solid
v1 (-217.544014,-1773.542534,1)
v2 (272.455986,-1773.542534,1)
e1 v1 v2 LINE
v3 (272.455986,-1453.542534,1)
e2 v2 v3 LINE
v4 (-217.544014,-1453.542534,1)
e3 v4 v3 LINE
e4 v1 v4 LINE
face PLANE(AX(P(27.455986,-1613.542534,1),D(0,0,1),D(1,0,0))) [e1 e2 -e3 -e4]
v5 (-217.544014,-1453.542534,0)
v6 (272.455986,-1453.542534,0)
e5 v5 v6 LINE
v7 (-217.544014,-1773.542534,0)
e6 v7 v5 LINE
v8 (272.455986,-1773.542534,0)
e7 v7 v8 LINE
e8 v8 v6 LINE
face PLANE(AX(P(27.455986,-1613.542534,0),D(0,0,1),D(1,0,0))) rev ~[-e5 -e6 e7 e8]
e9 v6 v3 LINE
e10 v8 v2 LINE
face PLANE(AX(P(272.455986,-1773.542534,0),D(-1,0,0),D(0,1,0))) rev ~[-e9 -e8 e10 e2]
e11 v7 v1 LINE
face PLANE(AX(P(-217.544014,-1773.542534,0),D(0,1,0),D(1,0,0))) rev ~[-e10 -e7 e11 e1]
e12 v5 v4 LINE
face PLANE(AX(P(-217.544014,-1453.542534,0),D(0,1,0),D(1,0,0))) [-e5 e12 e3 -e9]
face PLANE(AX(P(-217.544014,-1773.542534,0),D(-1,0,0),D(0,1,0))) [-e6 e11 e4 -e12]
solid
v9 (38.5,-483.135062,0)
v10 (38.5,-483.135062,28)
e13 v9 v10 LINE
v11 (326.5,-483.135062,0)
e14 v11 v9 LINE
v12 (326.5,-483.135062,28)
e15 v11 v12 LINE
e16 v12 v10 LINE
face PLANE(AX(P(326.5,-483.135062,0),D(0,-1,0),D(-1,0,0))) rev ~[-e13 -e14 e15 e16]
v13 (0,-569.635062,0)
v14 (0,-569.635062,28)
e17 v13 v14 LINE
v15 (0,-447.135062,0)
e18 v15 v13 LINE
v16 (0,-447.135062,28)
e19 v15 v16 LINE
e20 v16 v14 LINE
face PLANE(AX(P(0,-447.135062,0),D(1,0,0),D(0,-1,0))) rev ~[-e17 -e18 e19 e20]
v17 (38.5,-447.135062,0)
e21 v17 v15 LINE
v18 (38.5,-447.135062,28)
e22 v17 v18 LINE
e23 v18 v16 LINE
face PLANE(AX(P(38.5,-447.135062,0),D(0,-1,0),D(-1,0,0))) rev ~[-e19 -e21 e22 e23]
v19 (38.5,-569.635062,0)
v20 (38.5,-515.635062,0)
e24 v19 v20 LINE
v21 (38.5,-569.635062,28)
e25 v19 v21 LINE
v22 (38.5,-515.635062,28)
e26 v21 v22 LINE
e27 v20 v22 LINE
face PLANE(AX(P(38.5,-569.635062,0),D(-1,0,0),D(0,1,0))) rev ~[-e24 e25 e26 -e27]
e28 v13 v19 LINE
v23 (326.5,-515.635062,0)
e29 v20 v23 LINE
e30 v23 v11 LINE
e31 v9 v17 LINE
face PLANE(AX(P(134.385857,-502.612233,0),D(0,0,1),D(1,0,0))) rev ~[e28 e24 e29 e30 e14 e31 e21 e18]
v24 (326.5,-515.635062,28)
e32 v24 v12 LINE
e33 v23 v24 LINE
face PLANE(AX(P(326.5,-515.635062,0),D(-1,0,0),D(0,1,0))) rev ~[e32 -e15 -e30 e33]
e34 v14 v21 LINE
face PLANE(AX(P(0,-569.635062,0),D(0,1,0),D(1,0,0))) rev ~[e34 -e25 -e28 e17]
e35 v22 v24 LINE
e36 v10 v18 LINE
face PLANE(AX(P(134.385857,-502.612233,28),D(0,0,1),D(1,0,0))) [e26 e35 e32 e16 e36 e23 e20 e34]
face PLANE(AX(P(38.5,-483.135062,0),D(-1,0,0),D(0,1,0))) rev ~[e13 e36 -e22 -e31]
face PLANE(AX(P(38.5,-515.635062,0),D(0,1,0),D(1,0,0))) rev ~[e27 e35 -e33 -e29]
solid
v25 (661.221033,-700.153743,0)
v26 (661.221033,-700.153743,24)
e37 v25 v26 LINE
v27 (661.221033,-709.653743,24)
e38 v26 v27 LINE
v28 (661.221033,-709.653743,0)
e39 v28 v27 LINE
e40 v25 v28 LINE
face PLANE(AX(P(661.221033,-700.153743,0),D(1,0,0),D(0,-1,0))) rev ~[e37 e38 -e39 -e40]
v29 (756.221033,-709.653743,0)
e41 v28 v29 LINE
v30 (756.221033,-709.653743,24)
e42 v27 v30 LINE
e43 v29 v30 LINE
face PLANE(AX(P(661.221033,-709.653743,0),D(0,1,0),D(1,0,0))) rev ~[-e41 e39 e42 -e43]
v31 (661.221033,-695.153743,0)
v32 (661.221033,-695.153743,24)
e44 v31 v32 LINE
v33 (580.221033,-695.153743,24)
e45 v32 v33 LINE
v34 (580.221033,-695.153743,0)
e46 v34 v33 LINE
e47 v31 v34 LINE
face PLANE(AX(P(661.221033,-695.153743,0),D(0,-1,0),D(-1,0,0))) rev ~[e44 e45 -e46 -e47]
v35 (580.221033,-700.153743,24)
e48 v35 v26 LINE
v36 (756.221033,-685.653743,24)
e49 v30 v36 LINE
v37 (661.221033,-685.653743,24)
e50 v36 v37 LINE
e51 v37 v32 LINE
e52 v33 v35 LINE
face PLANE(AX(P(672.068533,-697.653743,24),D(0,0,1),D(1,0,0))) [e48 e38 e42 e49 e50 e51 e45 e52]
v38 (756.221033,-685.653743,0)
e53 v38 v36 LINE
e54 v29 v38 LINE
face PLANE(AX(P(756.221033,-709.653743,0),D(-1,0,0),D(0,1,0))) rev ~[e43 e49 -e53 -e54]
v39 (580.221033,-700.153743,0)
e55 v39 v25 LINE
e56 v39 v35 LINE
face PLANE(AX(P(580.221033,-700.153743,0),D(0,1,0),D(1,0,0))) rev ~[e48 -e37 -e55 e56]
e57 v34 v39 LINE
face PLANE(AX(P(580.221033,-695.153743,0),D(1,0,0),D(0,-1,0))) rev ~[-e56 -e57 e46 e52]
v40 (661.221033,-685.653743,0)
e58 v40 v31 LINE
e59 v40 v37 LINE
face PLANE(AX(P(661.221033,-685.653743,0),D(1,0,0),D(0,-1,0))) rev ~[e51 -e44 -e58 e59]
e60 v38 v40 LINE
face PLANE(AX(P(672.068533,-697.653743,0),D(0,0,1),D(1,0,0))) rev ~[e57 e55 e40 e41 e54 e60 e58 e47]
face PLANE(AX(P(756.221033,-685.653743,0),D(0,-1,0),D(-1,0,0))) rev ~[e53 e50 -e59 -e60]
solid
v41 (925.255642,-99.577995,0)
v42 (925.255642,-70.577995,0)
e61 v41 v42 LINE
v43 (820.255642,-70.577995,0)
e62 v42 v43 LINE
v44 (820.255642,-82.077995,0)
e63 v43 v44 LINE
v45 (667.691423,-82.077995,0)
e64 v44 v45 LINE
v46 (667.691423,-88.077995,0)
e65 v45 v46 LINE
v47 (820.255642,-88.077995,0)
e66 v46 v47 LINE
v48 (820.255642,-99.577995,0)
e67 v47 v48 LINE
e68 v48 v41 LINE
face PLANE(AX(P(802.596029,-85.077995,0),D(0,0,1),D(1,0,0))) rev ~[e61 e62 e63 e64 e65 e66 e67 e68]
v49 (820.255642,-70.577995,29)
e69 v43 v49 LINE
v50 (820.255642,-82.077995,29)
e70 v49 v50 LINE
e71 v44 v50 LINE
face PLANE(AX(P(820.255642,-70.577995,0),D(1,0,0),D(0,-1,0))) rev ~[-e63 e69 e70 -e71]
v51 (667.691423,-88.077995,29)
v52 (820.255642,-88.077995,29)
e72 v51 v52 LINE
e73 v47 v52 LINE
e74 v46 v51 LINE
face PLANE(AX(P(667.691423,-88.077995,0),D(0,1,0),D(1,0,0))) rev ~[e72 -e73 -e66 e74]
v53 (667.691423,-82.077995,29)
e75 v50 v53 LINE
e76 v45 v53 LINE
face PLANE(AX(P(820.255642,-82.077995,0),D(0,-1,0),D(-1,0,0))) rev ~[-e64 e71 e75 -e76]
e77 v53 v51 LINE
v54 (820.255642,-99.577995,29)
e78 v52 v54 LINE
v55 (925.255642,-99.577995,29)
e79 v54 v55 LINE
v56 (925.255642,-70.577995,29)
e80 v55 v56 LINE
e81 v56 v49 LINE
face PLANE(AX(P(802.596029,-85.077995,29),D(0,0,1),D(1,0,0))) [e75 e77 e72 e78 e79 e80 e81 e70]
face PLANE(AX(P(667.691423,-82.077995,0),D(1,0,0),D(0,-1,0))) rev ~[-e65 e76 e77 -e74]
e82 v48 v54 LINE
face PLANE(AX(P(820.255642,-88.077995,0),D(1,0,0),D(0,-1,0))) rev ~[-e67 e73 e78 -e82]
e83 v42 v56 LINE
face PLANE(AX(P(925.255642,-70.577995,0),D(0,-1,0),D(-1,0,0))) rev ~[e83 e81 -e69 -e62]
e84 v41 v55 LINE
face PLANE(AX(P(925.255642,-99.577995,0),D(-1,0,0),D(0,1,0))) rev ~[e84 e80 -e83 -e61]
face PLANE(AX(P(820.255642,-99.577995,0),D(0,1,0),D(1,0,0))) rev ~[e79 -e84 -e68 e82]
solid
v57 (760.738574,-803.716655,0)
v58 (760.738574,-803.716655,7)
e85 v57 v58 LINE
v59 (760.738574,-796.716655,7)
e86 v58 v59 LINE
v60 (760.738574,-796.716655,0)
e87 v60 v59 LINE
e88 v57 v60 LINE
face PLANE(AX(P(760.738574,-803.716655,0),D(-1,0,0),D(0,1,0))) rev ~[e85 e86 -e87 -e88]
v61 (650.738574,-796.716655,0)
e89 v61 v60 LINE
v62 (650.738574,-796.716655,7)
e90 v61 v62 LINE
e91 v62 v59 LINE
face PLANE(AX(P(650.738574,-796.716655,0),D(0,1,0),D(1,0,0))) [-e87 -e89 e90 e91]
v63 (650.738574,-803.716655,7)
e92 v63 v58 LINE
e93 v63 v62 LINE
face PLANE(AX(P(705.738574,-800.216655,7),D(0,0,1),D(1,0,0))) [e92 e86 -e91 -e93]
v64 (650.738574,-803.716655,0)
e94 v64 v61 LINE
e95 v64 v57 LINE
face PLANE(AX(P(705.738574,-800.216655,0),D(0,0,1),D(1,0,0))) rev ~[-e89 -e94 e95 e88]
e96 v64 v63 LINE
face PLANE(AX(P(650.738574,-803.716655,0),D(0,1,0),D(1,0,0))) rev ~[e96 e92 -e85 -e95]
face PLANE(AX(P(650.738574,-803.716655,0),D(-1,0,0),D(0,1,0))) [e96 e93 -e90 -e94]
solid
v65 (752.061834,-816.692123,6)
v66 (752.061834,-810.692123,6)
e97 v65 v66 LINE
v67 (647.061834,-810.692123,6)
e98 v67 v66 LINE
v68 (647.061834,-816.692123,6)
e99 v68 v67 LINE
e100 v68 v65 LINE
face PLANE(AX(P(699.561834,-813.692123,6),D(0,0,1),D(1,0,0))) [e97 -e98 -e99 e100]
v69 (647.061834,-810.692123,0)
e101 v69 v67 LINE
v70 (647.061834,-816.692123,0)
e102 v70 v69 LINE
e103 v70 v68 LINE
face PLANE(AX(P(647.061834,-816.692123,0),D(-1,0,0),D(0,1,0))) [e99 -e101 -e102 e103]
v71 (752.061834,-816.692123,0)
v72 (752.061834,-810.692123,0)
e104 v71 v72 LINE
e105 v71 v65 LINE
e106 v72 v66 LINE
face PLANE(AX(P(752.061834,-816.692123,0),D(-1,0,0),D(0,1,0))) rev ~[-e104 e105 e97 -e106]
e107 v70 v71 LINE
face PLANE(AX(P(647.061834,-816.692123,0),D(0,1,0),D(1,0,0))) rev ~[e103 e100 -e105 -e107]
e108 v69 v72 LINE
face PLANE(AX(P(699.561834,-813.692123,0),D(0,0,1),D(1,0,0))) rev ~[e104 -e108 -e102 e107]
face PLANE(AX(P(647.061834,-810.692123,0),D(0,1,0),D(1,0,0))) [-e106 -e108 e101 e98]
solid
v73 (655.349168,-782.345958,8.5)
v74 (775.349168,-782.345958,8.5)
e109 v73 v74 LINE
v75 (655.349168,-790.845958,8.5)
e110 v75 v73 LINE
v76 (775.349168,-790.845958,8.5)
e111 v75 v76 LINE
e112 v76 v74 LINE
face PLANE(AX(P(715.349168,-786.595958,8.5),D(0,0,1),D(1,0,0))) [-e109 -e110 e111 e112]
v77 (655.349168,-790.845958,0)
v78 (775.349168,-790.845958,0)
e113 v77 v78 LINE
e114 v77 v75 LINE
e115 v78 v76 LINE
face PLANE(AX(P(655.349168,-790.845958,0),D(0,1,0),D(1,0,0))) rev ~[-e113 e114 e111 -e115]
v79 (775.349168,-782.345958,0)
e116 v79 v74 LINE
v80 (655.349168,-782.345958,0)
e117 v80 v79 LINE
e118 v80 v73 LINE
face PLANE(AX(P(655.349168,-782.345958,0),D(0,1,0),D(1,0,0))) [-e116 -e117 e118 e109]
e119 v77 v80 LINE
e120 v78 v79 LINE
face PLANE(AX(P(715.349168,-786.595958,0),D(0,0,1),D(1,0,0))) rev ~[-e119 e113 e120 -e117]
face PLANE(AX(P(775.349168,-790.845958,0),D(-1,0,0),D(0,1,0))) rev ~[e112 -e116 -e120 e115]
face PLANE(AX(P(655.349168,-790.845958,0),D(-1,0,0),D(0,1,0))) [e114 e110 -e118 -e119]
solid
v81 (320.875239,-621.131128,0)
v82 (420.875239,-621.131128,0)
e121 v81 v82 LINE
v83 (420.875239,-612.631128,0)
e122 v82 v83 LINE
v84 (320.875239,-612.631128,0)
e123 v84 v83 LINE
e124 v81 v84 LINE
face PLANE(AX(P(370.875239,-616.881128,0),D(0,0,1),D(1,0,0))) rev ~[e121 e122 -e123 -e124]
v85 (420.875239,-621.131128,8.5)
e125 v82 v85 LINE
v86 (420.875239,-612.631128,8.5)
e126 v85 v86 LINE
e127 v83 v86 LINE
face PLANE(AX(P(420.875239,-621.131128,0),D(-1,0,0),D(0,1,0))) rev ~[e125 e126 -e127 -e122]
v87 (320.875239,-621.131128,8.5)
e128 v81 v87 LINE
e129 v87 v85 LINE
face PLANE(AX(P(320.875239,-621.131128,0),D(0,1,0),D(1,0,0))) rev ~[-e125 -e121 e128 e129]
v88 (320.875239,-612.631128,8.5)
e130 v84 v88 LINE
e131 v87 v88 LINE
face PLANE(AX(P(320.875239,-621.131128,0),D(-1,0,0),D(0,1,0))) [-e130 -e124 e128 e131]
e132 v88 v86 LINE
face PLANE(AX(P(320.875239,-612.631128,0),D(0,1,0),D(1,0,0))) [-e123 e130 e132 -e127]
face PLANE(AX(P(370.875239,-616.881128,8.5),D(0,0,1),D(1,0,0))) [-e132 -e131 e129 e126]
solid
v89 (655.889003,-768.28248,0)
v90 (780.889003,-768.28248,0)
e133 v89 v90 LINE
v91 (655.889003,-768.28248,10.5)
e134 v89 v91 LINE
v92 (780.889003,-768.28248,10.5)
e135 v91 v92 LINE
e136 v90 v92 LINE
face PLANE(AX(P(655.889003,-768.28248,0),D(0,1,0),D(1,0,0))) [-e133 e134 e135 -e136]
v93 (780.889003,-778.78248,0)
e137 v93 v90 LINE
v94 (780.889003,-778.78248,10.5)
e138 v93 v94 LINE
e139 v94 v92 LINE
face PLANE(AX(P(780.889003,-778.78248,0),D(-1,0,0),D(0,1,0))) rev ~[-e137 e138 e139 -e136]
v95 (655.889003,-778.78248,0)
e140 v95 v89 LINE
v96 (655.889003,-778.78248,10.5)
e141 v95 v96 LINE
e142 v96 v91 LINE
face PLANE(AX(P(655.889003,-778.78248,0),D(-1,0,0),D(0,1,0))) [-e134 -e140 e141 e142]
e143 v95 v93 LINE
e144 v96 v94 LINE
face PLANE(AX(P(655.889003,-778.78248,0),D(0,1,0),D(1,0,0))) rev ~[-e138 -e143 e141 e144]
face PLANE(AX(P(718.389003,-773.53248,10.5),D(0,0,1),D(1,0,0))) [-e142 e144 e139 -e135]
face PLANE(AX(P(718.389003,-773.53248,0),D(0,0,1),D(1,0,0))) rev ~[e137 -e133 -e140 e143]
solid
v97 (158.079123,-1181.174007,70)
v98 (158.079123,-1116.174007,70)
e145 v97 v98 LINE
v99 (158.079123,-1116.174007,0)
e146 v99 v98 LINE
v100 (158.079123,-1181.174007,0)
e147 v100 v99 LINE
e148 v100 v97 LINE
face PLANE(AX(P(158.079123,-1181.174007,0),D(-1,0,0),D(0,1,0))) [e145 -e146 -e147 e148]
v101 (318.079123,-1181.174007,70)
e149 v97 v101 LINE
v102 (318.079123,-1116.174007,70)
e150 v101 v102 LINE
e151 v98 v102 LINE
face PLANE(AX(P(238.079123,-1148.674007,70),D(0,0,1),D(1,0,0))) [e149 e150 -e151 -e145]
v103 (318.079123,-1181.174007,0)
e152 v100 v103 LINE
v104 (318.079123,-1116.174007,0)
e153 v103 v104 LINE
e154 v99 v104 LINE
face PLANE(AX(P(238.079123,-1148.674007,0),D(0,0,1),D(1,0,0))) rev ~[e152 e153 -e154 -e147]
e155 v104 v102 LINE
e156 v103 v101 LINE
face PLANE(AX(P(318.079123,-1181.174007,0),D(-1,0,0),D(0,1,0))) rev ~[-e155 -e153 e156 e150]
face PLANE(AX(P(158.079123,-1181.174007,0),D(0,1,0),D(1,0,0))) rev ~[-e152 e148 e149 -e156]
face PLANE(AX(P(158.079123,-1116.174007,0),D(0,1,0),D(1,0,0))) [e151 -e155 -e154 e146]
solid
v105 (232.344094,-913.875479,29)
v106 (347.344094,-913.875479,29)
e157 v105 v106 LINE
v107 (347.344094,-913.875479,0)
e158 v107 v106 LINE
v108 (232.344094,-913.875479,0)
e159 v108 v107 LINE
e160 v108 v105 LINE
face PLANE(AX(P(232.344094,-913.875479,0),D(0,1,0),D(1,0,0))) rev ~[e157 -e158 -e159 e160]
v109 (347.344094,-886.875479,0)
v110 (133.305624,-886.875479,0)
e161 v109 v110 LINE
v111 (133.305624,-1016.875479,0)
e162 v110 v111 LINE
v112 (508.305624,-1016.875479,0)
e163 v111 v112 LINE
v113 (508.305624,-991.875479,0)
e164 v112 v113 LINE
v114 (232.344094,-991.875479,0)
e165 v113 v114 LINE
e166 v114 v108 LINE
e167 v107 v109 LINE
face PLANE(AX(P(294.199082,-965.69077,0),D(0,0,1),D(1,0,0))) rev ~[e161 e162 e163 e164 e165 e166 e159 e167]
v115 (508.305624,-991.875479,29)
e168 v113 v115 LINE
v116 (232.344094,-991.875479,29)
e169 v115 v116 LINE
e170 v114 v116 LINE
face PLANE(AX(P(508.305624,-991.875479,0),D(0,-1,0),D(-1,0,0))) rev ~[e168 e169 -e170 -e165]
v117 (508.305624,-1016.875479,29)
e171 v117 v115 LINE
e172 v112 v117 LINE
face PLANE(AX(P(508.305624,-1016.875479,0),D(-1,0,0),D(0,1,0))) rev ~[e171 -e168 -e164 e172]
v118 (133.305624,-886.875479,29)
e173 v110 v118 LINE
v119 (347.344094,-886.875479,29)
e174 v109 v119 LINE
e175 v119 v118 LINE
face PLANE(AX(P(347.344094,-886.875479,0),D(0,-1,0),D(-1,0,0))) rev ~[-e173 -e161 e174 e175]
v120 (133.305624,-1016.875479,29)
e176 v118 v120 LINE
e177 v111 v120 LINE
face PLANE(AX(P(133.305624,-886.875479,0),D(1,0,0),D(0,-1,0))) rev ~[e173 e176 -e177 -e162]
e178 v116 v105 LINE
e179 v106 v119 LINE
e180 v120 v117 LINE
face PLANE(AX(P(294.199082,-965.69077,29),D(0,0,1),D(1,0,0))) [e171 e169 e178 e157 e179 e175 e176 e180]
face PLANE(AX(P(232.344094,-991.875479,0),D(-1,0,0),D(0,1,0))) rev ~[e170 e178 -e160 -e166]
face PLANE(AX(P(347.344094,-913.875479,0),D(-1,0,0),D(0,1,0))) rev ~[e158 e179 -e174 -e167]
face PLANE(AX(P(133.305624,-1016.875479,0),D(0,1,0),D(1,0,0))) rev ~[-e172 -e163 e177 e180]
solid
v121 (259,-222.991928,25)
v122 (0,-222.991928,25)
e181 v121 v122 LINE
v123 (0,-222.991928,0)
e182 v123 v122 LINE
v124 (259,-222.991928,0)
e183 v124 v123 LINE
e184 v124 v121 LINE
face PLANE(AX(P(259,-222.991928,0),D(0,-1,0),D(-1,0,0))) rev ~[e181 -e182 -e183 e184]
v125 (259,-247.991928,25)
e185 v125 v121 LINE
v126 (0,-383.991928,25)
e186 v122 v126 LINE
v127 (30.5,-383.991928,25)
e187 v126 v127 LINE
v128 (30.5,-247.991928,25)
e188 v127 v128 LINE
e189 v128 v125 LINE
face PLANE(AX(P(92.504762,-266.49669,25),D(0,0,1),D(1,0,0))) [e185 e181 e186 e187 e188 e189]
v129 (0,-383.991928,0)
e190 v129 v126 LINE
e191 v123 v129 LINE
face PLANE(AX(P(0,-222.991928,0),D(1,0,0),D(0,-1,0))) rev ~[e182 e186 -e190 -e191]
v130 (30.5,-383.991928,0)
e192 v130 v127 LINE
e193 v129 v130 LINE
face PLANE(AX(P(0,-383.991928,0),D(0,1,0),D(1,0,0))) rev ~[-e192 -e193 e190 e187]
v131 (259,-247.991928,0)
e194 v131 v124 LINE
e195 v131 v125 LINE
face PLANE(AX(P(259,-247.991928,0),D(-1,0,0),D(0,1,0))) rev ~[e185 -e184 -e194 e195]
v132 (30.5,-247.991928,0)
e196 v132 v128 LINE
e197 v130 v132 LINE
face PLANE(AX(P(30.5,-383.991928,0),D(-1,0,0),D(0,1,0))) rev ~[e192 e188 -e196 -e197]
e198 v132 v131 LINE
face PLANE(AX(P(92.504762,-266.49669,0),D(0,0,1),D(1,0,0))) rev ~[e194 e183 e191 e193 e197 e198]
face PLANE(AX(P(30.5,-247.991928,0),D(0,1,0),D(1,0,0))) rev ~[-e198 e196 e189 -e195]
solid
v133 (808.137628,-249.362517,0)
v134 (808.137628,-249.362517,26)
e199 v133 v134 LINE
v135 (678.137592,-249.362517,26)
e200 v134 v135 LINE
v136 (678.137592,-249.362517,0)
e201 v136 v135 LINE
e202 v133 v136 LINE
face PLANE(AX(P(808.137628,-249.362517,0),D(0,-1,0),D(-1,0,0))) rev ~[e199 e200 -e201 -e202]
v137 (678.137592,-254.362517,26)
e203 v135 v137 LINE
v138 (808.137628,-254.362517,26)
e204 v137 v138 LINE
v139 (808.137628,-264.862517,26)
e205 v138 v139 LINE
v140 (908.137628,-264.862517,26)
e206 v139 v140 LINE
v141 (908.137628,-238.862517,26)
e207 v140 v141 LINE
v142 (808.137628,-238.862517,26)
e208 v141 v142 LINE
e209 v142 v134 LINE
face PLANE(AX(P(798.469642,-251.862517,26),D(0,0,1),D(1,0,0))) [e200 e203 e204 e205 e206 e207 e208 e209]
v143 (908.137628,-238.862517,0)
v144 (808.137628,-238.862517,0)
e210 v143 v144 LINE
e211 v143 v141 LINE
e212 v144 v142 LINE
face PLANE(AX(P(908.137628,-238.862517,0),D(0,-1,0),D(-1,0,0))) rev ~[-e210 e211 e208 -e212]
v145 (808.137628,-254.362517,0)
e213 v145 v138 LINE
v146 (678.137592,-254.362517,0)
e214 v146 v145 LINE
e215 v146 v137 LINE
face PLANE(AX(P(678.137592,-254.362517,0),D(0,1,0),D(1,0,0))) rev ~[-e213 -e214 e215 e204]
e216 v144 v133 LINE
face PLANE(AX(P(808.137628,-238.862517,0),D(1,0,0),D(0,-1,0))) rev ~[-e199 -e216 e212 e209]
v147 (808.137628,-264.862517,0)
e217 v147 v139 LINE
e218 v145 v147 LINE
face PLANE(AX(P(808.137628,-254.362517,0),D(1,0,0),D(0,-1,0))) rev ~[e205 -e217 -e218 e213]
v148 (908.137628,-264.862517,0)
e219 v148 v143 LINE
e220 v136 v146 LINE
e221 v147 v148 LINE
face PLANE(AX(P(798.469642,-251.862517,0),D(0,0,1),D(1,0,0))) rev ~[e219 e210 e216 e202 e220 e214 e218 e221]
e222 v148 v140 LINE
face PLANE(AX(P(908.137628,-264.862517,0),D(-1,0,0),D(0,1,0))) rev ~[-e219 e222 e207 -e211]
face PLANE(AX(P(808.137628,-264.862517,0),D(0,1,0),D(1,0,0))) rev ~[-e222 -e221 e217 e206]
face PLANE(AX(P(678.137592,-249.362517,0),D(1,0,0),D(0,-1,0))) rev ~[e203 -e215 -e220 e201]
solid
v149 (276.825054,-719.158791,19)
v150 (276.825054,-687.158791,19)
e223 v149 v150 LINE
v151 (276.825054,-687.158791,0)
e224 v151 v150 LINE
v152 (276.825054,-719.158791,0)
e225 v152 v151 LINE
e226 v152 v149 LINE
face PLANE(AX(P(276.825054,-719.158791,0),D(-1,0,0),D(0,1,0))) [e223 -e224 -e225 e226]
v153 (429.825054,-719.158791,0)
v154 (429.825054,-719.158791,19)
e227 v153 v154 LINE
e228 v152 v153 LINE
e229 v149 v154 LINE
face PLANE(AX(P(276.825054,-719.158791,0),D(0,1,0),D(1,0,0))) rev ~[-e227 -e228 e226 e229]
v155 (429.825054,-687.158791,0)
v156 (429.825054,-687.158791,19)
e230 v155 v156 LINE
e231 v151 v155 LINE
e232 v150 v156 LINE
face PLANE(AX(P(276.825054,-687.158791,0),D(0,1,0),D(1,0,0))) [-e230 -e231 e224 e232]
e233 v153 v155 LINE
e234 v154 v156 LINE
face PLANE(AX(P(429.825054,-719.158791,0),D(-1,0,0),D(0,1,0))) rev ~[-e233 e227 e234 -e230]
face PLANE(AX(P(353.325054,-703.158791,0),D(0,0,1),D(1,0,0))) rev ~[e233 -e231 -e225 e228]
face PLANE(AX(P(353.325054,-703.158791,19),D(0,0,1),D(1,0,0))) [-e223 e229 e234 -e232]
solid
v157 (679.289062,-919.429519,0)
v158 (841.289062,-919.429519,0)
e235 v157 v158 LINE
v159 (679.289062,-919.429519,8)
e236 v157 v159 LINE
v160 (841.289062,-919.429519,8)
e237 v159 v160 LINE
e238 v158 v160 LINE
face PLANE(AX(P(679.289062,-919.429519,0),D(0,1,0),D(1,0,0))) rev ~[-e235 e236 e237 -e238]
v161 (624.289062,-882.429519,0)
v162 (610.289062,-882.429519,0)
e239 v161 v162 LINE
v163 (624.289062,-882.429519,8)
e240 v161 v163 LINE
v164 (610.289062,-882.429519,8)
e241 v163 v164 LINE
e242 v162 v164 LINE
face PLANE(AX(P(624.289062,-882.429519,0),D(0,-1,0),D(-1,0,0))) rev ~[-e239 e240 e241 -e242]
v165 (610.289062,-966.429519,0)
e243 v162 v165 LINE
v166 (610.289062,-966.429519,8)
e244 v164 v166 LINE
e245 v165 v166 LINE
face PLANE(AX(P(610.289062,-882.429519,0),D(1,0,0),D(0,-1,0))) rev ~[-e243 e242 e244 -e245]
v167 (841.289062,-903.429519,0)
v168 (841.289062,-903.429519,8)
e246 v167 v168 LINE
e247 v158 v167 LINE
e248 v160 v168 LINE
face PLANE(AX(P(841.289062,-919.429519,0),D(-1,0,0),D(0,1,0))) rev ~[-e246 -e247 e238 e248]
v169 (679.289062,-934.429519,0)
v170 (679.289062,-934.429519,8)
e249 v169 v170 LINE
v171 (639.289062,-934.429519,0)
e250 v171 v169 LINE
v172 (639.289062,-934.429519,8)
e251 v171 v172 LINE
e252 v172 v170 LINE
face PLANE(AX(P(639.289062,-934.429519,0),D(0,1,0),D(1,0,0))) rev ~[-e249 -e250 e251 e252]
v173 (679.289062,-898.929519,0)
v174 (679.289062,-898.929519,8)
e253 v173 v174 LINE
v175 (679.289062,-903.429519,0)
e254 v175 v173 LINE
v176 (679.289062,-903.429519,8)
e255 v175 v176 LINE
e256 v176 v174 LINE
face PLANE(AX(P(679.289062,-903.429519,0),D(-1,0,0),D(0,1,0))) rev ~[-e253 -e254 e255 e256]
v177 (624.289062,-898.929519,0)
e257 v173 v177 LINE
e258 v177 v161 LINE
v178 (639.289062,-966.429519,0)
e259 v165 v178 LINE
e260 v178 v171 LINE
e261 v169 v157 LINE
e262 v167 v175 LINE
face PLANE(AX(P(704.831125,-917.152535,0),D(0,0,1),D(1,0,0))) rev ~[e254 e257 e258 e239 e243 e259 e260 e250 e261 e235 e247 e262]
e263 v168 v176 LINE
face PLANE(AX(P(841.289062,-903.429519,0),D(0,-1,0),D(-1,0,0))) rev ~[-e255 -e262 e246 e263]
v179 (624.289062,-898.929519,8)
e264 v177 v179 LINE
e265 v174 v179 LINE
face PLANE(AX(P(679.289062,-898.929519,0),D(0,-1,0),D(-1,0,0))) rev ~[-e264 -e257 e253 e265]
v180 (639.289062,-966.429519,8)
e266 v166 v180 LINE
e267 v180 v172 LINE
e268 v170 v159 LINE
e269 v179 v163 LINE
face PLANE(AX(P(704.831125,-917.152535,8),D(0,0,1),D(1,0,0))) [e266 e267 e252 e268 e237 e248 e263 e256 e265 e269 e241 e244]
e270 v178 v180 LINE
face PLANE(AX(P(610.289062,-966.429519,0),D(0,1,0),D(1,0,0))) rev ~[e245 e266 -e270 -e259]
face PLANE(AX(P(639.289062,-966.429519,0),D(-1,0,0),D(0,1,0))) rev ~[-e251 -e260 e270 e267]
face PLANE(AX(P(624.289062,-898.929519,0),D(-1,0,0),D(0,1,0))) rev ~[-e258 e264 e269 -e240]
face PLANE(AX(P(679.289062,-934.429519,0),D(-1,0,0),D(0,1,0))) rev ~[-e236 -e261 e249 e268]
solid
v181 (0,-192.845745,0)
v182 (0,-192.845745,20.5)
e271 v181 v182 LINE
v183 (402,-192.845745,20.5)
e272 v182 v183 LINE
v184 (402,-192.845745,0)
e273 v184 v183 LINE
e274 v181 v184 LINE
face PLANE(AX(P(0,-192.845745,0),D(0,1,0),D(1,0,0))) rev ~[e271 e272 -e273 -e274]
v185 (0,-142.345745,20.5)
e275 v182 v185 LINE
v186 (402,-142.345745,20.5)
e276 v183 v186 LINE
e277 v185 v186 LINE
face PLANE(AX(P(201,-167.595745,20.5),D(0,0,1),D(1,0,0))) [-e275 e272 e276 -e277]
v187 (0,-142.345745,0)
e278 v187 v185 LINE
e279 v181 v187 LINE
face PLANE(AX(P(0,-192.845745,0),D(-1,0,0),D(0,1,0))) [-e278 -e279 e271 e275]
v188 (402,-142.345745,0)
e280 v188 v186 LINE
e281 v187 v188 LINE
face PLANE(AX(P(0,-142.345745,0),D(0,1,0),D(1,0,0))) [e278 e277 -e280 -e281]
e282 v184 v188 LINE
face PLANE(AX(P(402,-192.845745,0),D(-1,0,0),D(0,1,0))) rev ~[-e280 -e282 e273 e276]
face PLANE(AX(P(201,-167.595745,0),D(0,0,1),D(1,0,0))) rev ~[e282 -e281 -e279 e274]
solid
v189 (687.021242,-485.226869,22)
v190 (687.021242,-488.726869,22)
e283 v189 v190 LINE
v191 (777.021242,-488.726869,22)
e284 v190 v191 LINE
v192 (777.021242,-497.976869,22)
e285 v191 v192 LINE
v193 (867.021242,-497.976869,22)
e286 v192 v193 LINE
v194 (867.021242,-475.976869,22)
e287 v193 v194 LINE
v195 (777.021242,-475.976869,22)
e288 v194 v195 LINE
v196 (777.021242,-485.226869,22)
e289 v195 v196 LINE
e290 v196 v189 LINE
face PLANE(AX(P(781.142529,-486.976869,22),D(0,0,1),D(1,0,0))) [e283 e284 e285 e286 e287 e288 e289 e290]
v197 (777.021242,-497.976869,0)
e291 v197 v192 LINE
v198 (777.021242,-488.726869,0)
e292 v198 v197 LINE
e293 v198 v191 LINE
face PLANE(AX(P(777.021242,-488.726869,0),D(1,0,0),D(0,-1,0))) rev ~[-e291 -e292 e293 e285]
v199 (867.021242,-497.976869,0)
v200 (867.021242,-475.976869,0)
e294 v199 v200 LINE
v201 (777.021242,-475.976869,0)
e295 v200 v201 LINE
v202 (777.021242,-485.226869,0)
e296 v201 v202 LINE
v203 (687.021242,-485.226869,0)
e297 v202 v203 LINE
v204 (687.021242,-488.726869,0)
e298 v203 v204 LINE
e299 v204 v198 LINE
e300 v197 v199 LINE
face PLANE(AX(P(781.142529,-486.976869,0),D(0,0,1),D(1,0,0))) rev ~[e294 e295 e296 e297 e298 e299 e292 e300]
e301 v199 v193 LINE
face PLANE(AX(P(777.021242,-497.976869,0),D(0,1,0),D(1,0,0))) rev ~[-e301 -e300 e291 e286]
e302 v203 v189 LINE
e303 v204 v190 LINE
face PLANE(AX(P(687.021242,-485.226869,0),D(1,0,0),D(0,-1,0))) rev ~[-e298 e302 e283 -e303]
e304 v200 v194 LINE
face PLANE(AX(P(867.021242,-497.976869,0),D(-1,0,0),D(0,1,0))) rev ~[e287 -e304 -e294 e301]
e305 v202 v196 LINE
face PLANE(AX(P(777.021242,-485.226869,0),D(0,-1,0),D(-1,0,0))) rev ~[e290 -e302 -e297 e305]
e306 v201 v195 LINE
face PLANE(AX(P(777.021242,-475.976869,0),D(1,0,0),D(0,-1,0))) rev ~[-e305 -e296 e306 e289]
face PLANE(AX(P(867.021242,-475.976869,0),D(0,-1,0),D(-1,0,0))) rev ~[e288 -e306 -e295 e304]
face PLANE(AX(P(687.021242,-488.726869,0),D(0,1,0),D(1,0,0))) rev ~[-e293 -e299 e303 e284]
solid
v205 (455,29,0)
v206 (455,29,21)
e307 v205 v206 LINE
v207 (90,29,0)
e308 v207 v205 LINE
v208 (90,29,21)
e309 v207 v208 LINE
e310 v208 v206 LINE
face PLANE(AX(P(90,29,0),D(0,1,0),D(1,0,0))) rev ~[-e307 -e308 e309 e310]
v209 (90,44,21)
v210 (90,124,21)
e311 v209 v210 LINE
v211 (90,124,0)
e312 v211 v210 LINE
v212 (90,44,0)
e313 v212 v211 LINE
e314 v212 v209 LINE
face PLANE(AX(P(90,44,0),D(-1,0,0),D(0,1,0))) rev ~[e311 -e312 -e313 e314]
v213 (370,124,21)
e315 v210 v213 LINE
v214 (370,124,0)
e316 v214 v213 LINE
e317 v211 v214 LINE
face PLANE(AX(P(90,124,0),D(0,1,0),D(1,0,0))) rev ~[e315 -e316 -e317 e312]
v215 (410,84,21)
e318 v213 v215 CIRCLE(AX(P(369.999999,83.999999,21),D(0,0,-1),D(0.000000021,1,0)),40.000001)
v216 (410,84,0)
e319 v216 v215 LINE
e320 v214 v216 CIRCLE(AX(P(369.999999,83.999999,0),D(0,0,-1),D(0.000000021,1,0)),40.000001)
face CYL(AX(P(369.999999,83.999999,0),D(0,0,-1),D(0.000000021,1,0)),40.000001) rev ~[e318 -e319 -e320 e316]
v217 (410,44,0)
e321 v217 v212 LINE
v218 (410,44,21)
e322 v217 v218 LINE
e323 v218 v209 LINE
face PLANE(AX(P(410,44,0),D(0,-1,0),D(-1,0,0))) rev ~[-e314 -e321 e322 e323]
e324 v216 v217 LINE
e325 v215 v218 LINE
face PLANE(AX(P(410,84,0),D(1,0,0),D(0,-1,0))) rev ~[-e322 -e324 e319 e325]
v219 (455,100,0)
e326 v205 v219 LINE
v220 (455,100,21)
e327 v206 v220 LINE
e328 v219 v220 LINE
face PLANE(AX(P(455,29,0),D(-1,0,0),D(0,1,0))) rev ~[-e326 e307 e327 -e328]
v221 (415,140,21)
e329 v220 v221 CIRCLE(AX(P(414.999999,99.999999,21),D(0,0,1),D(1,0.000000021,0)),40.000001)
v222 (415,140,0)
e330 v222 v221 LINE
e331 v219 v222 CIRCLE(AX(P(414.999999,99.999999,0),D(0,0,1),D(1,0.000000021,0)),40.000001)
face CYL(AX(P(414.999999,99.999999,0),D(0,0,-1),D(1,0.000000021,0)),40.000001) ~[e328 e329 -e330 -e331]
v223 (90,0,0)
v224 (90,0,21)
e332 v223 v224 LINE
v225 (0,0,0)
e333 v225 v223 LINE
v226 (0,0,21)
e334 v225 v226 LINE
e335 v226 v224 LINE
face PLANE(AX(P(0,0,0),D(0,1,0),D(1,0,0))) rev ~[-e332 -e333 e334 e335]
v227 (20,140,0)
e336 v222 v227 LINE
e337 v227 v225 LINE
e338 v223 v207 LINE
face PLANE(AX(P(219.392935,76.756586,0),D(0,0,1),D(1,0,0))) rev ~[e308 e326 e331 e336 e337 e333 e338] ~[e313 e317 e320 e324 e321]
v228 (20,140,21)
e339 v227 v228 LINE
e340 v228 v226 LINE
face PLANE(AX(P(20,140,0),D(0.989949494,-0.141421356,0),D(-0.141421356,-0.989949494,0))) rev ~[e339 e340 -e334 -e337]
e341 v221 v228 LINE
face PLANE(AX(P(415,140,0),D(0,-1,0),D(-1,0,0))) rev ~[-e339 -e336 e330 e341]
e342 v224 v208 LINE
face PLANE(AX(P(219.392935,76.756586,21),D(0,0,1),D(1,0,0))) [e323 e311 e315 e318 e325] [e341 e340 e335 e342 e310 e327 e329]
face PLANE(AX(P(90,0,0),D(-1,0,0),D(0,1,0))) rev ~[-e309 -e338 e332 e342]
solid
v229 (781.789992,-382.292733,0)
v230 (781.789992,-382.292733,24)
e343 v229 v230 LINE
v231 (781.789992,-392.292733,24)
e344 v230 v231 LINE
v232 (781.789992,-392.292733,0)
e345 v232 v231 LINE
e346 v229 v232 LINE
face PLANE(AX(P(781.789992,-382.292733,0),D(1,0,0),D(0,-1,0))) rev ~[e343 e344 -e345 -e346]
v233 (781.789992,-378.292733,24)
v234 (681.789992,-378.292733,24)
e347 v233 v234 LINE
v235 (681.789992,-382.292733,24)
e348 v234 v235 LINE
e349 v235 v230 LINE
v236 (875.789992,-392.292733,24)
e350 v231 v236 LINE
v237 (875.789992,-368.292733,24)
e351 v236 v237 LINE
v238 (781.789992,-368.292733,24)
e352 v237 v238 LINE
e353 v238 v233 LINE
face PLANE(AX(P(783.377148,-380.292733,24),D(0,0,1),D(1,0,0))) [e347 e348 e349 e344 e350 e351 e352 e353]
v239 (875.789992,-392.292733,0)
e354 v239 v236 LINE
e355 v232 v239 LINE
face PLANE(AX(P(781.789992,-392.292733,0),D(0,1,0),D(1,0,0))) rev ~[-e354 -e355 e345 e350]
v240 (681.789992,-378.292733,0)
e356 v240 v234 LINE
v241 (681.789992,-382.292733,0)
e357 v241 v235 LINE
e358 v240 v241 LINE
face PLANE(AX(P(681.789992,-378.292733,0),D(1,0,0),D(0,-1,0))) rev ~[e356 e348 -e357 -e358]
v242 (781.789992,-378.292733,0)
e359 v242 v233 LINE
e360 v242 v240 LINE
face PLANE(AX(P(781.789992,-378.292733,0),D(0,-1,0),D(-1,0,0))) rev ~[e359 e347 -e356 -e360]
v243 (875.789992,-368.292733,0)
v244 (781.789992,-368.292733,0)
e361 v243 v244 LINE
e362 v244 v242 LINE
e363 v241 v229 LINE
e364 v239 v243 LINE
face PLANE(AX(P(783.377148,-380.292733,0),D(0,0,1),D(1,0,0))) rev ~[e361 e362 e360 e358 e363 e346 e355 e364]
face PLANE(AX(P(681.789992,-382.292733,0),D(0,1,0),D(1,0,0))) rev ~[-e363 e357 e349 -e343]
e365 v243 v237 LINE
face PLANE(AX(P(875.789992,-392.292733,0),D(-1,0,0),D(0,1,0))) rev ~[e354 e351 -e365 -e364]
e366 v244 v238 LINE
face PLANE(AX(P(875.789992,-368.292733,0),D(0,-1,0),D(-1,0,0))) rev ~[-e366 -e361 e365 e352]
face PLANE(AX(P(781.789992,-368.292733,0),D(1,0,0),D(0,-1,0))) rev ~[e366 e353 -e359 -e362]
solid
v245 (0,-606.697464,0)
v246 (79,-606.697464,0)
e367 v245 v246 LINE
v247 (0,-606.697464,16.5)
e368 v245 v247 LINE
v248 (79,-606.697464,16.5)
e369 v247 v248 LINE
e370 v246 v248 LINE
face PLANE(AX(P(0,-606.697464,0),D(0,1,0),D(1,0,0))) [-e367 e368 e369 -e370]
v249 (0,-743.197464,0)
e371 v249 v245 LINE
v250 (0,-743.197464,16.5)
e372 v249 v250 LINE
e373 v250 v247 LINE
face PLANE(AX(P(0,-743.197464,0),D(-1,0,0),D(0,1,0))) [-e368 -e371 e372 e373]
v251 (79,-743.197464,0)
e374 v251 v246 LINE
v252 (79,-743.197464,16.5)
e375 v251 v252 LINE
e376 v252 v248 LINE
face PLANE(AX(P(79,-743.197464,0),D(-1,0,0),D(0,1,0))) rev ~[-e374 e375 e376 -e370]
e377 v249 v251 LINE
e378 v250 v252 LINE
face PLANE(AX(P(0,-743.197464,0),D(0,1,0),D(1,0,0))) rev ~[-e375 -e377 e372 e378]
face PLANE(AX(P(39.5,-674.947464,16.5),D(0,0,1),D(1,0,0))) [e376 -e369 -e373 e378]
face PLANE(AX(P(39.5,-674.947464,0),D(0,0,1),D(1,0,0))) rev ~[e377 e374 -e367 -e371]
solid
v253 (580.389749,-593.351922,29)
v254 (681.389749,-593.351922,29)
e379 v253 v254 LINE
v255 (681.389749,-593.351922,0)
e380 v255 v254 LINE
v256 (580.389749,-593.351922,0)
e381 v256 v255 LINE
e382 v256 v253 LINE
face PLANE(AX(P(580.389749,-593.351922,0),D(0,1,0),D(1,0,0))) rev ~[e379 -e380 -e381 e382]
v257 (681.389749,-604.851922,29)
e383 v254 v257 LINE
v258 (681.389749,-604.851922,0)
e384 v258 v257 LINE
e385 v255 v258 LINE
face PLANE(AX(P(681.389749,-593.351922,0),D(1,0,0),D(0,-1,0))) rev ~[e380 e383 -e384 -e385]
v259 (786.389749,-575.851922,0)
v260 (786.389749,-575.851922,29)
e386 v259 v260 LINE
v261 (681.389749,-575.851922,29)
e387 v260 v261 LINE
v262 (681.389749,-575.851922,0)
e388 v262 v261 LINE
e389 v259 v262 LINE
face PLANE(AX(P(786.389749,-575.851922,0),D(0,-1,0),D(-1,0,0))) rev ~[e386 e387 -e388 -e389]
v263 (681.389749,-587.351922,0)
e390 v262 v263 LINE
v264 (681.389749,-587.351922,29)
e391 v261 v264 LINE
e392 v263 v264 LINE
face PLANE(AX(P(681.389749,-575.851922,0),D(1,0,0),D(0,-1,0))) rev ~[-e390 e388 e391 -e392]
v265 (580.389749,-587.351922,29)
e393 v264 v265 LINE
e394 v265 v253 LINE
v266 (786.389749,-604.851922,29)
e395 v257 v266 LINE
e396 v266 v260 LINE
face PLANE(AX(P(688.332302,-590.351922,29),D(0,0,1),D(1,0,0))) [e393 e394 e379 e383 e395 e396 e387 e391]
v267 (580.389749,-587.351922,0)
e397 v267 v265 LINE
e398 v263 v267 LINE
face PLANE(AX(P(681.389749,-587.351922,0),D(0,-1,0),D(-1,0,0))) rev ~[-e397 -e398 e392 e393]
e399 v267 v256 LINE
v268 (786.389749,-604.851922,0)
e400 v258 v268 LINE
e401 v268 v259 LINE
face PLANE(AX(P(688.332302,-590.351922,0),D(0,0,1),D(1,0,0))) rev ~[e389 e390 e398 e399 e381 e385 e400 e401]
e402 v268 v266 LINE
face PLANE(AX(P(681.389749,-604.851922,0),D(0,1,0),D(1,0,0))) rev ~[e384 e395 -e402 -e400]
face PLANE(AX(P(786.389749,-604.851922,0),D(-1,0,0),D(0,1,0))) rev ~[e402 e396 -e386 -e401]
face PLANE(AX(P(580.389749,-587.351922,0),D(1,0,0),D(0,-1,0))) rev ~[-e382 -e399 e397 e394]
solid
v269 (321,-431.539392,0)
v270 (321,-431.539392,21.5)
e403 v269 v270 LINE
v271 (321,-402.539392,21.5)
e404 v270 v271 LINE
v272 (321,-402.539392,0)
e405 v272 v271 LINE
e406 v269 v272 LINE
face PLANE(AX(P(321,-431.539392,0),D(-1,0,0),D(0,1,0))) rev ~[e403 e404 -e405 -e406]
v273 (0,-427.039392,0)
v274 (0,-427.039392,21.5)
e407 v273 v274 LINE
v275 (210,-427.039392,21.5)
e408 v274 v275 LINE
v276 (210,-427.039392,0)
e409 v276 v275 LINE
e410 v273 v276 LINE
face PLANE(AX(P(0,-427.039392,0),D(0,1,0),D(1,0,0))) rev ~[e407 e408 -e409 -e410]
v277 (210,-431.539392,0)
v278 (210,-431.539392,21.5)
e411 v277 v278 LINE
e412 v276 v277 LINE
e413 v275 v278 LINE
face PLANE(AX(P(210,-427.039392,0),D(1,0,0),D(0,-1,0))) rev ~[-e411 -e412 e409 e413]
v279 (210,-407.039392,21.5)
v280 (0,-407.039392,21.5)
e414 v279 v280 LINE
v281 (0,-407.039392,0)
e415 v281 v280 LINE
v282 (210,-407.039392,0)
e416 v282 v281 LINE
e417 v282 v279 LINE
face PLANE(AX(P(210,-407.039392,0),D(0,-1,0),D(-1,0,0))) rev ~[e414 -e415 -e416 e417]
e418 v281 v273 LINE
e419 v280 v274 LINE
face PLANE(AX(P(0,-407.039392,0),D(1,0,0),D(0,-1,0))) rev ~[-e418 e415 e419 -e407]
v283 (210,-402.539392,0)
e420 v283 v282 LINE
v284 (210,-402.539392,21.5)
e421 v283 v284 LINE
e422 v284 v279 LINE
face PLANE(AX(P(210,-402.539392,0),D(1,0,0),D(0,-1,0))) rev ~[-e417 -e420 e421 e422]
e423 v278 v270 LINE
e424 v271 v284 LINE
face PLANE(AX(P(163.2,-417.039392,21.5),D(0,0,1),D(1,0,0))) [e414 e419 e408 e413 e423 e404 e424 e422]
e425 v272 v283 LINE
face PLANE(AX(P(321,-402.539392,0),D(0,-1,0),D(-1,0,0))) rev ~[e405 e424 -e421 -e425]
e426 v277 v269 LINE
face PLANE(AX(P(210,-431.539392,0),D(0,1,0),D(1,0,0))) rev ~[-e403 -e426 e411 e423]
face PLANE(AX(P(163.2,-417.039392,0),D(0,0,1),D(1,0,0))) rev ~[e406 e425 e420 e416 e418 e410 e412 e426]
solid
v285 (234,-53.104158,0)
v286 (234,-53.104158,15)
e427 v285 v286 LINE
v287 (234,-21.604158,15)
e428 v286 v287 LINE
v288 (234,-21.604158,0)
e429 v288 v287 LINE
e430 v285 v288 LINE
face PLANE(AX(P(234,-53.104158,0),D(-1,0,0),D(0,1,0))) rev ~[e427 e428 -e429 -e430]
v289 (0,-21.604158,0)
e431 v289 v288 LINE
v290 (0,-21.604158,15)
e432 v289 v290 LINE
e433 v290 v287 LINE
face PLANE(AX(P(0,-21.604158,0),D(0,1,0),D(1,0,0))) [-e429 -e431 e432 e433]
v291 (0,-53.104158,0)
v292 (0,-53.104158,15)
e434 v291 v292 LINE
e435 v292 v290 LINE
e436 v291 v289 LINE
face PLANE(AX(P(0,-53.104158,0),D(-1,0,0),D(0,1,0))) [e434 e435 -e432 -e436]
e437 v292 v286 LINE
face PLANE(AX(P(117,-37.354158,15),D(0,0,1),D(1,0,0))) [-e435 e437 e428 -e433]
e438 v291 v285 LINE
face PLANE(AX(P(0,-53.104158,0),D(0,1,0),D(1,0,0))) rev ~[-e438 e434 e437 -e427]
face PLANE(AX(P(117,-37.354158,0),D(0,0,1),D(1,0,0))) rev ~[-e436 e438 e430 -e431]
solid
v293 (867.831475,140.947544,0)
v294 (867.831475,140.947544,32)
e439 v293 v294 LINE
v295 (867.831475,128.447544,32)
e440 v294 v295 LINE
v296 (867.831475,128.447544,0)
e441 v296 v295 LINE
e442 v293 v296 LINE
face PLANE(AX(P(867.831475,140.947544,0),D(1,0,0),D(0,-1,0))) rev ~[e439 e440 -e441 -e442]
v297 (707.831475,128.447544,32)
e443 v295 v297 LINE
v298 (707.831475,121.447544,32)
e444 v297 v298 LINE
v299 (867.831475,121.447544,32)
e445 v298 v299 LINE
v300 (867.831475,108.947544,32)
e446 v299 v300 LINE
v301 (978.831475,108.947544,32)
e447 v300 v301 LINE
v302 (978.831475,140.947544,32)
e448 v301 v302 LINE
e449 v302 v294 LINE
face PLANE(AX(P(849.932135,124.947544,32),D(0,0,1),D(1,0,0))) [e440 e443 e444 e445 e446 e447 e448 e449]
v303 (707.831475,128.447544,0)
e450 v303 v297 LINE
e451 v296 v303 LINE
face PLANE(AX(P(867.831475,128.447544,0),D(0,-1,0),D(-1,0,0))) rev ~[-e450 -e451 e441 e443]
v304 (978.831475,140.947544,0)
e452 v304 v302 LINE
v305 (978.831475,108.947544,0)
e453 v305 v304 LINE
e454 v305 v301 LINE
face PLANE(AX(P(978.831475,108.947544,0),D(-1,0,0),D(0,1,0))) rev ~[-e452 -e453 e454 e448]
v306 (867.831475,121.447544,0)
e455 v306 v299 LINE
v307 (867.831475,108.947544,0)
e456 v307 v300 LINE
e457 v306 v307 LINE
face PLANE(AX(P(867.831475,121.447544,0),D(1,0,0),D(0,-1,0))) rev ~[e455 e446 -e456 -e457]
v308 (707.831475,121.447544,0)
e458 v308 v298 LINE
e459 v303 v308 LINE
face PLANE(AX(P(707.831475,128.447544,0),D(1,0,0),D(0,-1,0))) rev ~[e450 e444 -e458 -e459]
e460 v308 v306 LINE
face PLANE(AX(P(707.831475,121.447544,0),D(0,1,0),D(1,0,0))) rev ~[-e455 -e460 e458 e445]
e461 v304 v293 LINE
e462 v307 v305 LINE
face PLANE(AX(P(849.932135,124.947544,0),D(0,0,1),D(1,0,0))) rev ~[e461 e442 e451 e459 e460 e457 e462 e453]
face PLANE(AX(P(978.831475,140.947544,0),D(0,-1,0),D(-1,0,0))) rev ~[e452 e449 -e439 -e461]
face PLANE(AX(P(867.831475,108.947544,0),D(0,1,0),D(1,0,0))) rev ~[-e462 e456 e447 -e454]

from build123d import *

# Parameters (mm, degrees)
F1_DEPTH  = 21
F2_W      = 234
F2_H      = 31.5
F3_DEPTH  = 15
F4_W      = 402
F4_H      = 50.5
F5_DEPTH  = 20.5
F7_DEPTH  = 25
F9_DEPTH  = 21.5
F11_DEPTH = 28
F12_W     = 79
F12_H     = 136.5
F13_DEPTH = 16.5
F15_DEPTH = 32
F17_DEPTH = 29
F19_DEPTH = 26
F21_DEPTH = 24
F23_DEPTH = 22
F25_DEPTH = 29
F27_DEPTH = 24
F28_W     = 125
F28_H     = 10.5
F29_DEPTH = 10.5
F30_W     = 120
F30_H     = 8.5
F31_DEPTH = 8.5
F32_W     = 110
F32_H     = 7
F33_DEPTH = 7
F34_W     = 105
F34_H     = 6
F35_DEPTH = 6
F36_W     = 100
F36_H     = 8.5
F37_DEPTH = 8.5
F38_W     = 153
F38_H     = 32
F39_DEPTH = 19
F41_DEPTH = 29
F42_W     = 160
F42_H     = 65
F43_DEPTH = 70
F45_DEPTH = 8
F46_W     = 490
F46_H     = 320
F47_DEPTH = 1


with BuildPart() as f1:
    # F0 (on Top) → F1 (new body)
    with BuildSketch(Plane.XY):
        with BuildLine():
            Line((90, 29), (455, 29))
            Line((455, 29), (455, 100))
            ThreePointArc((455, 100), (443.284271, 128.284271), (415, 140))
            Line((415, 140), (20, 140))
            Line((20, 140), (0, 0))
            Line((0, 0), (90, 0))
            Line((90, 0), (90, 29))
        make_face()
        with BuildLine():
            Line((90, 44), (90, 124))
            Line((90, 124), (370, 124))
            ThreePointArc((370, 124), (398.284271, 112.284271), (410, 84))
            Line((410, 84), (410, 44))
            Line((410, 44), (90, 44))
        make_face(mode=Mode.SUBTRACT)
    extrude(amount=F1_DEPTH)


with BuildPart() as f3:
    # F2 (on Top) → F3 (new body)
    with BuildSketch(Plane.XY):
        with Locations((117, -37.354158)):
            Rectangle(F2_W, F2_H)
    extrude(amount=F3_DEPTH)


with BuildPart() as f5:
    # F4 (on Top) → F5 (new body)
    with BuildSketch(Plane.XY):
        with Locations((201, -167.595745)):
            Rectangle(F4_W, F4_H)
    extrude(amount=F5_DEPTH)


with BuildPart() as f7:
    # F6 (on Top) → F7 (new body)
    with BuildSketch(Plane.XY):
        Polygon((259, -247.991928), (259, -222.991928), (0, -222.991928), (0, -383.991928), (30.5, -383.991928), (30.5, -247.991928), align=None)
    extrude(amount=F7_DEPTH)


with BuildPart() as f9:
    # F8 (on Top) → F9 (new body)
    with BuildSketch(Plane.XY):
        Polygon((210, -407.039392), (0, -407.039392), (0, -427.039392), (210, -427.039392), (210, -431.539392), (321, -431.539392), (321, -402.539392), (210, -402.539392), align=None)
    extrude(amount=F9_DEPTH)


with BuildPart() as f11:
    # F10 (on Top) → F11 (new body)
    with BuildSketch(Plane.XY):
        Polygon((38.5, -447.135062), (0, -447.135062), (0, -569.635062), (38.5, -569.635062), (38.5, -515.635062), (326.5, -515.635062), (326.5, -483.135062), (38.5, -483.135062), align=None)
    extrude(amount=F11_DEPTH)


with BuildPart() as f13:
    # F12 (on Top) → F13 (new body)
    with BuildSketch(Plane.XY):
        with Locations((39.5, -674.947464)):
            Rectangle(F12_W, F12_H)
    extrude(amount=F13_DEPTH)


with BuildPart() as f15:
    # F14 (on Top) → F15 (new body)
    with BuildSketch(Plane.XY):
        Polygon((867.831475, 128.447544), (707.831475, 128.447544), (707.831475, 121.447544), (867.831475, 121.447544), (867.831475, 108.947544), (978.831475, 108.947544), (978.831475, 140.947544), (867.831475, 140.947544), align=None)
    extrude(amount=F15_DEPTH)


with BuildPart() as f17:
    # F16 (on Top) → F17 (new body)
    with BuildSketch(Plane.XY):
        Polygon((820.255642, -82.077995), (667.691423, -82.077995), (667.691423, -88.077995), (820.255642, -88.077995), (820.255642, -99.577995), (925.255642, -99.577995), (925.255642, -70.577995), (820.255642, -70.577995), align=None)
    extrude(amount=F17_DEPTH)


with BuildPart() as f19:
    # F18 (on Top) → F19 (new body)
    with BuildSketch(Plane.XY):
        Polygon((808.137628, -249.362517), (678.137592, -249.362517), (678.137592, -254.362517), (808.137628, -254.362517), (808.137628, -264.862517), (908.137628, -264.862517), (908.137628, -238.862517), (808.137628, -238.862517), align=None)
    extrude(amount=F19_DEPTH)


with BuildPart() as f21:
    # F20 (on Top) → F21 (new body)
    with BuildSketch(Plane.XY):
        Polygon((781.789992, -378.292733), (681.789992, -378.292733), (681.789992, -382.292733), (781.789992, -382.292733), (781.789992, -392.292733), (875.789992, -392.292733), (875.789992, -368.292733), (781.789992, -368.292733), align=None)
    extrude(amount=F21_DEPTH)


with BuildPart() as f23:
    # F22 (on Top) → F23 (new body)
    with BuildSketch(Plane.XY):
        Polygon((777.021242, -485.226869), (687.021242, -485.226869), (687.021242, -488.726869), (777.021242, -488.726869), (777.021242, -497.976869), (867.021242, -497.976869), (867.021242, -475.976869), (777.021242, -475.976869), align=None)
    extrude(amount=F23_DEPTH)


with BuildPart() as f25:
    # F24 (on Top) → F25 (new body)
    with BuildSketch(Plane.XY):
        Polygon((681.389749, -587.351922), (580.389749, -587.351922), (580.389749, -593.351922), (681.389749, -593.351922), (681.389749, -604.851922), (786.389749, -604.851922), (786.389749, -575.851922), (681.389749, -575.851922), align=None)
    extrude(amount=F25_DEPTH)


with BuildPart() as f27:
    # F26 (on Top) → F27 (new body)
    with BuildSketch(Plane.XY):
        Polygon((661.221033, -695.153743), (580.221033, -695.153743), (580.221033, -700.153743), (661.221033, -700.153743), (661.221033, -709.653743), (756.221033, -709.653743), (756.221033, -685.653743), (661.221033, -685.653743), align=None)
    extrude(amount=F27_DEPTH)


with BuildPart() as f29:
    # F28 (on Top) → F29 (new body)
    with BuildSketch(Plane.XY):
        with Locations((718.389003, -773.53248)):
            Rectangle(F28_W, F28_H)
    extrude(amount=F29_DEPTH)


with BuildPart() as f31:
    # F30 (on Top) → F31 (new body)
    with BuildSketch(Plane.XY):
        with Locations((715.349168, -786.595958)):
            Rectangle(F30_W, F30_H)
    extrude(amount=F31_DEPTH)


with BuildPart() as f33:
    # F32 (on Top) → F33 (new body)
    with BuildSketch(Plane.XY):
        with Locations((705.738574, -800.216655)):
            Rectangle(F32_W, F32_H)
    extrude(amount=F33_DEPTH)


with BuildPart() as f35:
    # F34 (on Top) → F35 (new body)
    with BuildSketch(Plane.XY):
        with Locations((699.561834, -813.692123)):
            Rectangle(F34_W, F34_H)
    extrude(amount=F35_DEPTH)


with BuildPart() as f37:
    # F36 (on Top) → F37 (new body)
    with BuildSketch(Plane.XY):
        with Locations((370.875239, -616.881128)):
            Rectangle(F36_W, F36_H)
    extrude(amount=F37_DEPTH)


with BuildPart() as f39:
    # F38 (on Top) → F39 (new body)
    with BuildSketch(Plane.XY):
        with Locations((353.325054, -703.158791)):
            Rectangle(F38_W, F38_H)
    extrude(amount=F39_DEPTH)


with BuildPart() as f41:
    # F40 (on Top) → F41 (new body)
    with BuildSketch(Plane.XY):
        Polygon((133.305624, -1016.875479), (508.305624, -1016.875479), (508.305624, -991.875479), (232.344094, -991.875479), (232.344094, -913.875479), (347.344094, -913.875479), (347.344094, -886.875479), (133.305624, -886.875479), align=None)
    extrude(amount=F41_DEPTH)


with BuildPart() as f43:
    # F42 (on Top) → F43 (new body)
    with BuildSketch(Plane.XY):
        with Locations((238.079123, -1148.674007)):
            Rectangle(F42_W, F42_H)
    extrude(amount=F43_DEPTH)


with BuildPart() as f45:
    # F44 (on Top) → F45 (new body)
    with BuildSketch(Plane.XY):
        Polygon((841.289062, -919.429519), (841.289062, -903.429519), (679.289062, -903.429519), (679.289062, -898.929519), (624.289062, -898.929519), (624.289062, -882.429519), (610.289062, -882.429519), (610.289062, -966.429519), (639.289062, -966.429519), (639.289062, -934.429519), (679.289062, -934.429519), (679.289062, -919.429519), align=None)
    extrude(amount=F45_DEPTH)


with BuildPart() as f47:
    # F46 (on Top) → F47 (new body)
    with BuildSketch(Plane.XY):
        with Locations((27.455986, -1613.542534)):
            Rectangle(F46_W, F46_H)
    extrude(amount=F47_DEPTH)


solid = Compound([f1.part, f3.part, f5.part, f7.part, f9.part, f11.part, f13.part, f15.part, f17.part, f19.part, f21.part, f23.part, f25.part, f27.part, f29.part, f31.part, f33.part, f35.part, f37.part, f39.part, f41.part, f43.part, f45.part, f47.part])
